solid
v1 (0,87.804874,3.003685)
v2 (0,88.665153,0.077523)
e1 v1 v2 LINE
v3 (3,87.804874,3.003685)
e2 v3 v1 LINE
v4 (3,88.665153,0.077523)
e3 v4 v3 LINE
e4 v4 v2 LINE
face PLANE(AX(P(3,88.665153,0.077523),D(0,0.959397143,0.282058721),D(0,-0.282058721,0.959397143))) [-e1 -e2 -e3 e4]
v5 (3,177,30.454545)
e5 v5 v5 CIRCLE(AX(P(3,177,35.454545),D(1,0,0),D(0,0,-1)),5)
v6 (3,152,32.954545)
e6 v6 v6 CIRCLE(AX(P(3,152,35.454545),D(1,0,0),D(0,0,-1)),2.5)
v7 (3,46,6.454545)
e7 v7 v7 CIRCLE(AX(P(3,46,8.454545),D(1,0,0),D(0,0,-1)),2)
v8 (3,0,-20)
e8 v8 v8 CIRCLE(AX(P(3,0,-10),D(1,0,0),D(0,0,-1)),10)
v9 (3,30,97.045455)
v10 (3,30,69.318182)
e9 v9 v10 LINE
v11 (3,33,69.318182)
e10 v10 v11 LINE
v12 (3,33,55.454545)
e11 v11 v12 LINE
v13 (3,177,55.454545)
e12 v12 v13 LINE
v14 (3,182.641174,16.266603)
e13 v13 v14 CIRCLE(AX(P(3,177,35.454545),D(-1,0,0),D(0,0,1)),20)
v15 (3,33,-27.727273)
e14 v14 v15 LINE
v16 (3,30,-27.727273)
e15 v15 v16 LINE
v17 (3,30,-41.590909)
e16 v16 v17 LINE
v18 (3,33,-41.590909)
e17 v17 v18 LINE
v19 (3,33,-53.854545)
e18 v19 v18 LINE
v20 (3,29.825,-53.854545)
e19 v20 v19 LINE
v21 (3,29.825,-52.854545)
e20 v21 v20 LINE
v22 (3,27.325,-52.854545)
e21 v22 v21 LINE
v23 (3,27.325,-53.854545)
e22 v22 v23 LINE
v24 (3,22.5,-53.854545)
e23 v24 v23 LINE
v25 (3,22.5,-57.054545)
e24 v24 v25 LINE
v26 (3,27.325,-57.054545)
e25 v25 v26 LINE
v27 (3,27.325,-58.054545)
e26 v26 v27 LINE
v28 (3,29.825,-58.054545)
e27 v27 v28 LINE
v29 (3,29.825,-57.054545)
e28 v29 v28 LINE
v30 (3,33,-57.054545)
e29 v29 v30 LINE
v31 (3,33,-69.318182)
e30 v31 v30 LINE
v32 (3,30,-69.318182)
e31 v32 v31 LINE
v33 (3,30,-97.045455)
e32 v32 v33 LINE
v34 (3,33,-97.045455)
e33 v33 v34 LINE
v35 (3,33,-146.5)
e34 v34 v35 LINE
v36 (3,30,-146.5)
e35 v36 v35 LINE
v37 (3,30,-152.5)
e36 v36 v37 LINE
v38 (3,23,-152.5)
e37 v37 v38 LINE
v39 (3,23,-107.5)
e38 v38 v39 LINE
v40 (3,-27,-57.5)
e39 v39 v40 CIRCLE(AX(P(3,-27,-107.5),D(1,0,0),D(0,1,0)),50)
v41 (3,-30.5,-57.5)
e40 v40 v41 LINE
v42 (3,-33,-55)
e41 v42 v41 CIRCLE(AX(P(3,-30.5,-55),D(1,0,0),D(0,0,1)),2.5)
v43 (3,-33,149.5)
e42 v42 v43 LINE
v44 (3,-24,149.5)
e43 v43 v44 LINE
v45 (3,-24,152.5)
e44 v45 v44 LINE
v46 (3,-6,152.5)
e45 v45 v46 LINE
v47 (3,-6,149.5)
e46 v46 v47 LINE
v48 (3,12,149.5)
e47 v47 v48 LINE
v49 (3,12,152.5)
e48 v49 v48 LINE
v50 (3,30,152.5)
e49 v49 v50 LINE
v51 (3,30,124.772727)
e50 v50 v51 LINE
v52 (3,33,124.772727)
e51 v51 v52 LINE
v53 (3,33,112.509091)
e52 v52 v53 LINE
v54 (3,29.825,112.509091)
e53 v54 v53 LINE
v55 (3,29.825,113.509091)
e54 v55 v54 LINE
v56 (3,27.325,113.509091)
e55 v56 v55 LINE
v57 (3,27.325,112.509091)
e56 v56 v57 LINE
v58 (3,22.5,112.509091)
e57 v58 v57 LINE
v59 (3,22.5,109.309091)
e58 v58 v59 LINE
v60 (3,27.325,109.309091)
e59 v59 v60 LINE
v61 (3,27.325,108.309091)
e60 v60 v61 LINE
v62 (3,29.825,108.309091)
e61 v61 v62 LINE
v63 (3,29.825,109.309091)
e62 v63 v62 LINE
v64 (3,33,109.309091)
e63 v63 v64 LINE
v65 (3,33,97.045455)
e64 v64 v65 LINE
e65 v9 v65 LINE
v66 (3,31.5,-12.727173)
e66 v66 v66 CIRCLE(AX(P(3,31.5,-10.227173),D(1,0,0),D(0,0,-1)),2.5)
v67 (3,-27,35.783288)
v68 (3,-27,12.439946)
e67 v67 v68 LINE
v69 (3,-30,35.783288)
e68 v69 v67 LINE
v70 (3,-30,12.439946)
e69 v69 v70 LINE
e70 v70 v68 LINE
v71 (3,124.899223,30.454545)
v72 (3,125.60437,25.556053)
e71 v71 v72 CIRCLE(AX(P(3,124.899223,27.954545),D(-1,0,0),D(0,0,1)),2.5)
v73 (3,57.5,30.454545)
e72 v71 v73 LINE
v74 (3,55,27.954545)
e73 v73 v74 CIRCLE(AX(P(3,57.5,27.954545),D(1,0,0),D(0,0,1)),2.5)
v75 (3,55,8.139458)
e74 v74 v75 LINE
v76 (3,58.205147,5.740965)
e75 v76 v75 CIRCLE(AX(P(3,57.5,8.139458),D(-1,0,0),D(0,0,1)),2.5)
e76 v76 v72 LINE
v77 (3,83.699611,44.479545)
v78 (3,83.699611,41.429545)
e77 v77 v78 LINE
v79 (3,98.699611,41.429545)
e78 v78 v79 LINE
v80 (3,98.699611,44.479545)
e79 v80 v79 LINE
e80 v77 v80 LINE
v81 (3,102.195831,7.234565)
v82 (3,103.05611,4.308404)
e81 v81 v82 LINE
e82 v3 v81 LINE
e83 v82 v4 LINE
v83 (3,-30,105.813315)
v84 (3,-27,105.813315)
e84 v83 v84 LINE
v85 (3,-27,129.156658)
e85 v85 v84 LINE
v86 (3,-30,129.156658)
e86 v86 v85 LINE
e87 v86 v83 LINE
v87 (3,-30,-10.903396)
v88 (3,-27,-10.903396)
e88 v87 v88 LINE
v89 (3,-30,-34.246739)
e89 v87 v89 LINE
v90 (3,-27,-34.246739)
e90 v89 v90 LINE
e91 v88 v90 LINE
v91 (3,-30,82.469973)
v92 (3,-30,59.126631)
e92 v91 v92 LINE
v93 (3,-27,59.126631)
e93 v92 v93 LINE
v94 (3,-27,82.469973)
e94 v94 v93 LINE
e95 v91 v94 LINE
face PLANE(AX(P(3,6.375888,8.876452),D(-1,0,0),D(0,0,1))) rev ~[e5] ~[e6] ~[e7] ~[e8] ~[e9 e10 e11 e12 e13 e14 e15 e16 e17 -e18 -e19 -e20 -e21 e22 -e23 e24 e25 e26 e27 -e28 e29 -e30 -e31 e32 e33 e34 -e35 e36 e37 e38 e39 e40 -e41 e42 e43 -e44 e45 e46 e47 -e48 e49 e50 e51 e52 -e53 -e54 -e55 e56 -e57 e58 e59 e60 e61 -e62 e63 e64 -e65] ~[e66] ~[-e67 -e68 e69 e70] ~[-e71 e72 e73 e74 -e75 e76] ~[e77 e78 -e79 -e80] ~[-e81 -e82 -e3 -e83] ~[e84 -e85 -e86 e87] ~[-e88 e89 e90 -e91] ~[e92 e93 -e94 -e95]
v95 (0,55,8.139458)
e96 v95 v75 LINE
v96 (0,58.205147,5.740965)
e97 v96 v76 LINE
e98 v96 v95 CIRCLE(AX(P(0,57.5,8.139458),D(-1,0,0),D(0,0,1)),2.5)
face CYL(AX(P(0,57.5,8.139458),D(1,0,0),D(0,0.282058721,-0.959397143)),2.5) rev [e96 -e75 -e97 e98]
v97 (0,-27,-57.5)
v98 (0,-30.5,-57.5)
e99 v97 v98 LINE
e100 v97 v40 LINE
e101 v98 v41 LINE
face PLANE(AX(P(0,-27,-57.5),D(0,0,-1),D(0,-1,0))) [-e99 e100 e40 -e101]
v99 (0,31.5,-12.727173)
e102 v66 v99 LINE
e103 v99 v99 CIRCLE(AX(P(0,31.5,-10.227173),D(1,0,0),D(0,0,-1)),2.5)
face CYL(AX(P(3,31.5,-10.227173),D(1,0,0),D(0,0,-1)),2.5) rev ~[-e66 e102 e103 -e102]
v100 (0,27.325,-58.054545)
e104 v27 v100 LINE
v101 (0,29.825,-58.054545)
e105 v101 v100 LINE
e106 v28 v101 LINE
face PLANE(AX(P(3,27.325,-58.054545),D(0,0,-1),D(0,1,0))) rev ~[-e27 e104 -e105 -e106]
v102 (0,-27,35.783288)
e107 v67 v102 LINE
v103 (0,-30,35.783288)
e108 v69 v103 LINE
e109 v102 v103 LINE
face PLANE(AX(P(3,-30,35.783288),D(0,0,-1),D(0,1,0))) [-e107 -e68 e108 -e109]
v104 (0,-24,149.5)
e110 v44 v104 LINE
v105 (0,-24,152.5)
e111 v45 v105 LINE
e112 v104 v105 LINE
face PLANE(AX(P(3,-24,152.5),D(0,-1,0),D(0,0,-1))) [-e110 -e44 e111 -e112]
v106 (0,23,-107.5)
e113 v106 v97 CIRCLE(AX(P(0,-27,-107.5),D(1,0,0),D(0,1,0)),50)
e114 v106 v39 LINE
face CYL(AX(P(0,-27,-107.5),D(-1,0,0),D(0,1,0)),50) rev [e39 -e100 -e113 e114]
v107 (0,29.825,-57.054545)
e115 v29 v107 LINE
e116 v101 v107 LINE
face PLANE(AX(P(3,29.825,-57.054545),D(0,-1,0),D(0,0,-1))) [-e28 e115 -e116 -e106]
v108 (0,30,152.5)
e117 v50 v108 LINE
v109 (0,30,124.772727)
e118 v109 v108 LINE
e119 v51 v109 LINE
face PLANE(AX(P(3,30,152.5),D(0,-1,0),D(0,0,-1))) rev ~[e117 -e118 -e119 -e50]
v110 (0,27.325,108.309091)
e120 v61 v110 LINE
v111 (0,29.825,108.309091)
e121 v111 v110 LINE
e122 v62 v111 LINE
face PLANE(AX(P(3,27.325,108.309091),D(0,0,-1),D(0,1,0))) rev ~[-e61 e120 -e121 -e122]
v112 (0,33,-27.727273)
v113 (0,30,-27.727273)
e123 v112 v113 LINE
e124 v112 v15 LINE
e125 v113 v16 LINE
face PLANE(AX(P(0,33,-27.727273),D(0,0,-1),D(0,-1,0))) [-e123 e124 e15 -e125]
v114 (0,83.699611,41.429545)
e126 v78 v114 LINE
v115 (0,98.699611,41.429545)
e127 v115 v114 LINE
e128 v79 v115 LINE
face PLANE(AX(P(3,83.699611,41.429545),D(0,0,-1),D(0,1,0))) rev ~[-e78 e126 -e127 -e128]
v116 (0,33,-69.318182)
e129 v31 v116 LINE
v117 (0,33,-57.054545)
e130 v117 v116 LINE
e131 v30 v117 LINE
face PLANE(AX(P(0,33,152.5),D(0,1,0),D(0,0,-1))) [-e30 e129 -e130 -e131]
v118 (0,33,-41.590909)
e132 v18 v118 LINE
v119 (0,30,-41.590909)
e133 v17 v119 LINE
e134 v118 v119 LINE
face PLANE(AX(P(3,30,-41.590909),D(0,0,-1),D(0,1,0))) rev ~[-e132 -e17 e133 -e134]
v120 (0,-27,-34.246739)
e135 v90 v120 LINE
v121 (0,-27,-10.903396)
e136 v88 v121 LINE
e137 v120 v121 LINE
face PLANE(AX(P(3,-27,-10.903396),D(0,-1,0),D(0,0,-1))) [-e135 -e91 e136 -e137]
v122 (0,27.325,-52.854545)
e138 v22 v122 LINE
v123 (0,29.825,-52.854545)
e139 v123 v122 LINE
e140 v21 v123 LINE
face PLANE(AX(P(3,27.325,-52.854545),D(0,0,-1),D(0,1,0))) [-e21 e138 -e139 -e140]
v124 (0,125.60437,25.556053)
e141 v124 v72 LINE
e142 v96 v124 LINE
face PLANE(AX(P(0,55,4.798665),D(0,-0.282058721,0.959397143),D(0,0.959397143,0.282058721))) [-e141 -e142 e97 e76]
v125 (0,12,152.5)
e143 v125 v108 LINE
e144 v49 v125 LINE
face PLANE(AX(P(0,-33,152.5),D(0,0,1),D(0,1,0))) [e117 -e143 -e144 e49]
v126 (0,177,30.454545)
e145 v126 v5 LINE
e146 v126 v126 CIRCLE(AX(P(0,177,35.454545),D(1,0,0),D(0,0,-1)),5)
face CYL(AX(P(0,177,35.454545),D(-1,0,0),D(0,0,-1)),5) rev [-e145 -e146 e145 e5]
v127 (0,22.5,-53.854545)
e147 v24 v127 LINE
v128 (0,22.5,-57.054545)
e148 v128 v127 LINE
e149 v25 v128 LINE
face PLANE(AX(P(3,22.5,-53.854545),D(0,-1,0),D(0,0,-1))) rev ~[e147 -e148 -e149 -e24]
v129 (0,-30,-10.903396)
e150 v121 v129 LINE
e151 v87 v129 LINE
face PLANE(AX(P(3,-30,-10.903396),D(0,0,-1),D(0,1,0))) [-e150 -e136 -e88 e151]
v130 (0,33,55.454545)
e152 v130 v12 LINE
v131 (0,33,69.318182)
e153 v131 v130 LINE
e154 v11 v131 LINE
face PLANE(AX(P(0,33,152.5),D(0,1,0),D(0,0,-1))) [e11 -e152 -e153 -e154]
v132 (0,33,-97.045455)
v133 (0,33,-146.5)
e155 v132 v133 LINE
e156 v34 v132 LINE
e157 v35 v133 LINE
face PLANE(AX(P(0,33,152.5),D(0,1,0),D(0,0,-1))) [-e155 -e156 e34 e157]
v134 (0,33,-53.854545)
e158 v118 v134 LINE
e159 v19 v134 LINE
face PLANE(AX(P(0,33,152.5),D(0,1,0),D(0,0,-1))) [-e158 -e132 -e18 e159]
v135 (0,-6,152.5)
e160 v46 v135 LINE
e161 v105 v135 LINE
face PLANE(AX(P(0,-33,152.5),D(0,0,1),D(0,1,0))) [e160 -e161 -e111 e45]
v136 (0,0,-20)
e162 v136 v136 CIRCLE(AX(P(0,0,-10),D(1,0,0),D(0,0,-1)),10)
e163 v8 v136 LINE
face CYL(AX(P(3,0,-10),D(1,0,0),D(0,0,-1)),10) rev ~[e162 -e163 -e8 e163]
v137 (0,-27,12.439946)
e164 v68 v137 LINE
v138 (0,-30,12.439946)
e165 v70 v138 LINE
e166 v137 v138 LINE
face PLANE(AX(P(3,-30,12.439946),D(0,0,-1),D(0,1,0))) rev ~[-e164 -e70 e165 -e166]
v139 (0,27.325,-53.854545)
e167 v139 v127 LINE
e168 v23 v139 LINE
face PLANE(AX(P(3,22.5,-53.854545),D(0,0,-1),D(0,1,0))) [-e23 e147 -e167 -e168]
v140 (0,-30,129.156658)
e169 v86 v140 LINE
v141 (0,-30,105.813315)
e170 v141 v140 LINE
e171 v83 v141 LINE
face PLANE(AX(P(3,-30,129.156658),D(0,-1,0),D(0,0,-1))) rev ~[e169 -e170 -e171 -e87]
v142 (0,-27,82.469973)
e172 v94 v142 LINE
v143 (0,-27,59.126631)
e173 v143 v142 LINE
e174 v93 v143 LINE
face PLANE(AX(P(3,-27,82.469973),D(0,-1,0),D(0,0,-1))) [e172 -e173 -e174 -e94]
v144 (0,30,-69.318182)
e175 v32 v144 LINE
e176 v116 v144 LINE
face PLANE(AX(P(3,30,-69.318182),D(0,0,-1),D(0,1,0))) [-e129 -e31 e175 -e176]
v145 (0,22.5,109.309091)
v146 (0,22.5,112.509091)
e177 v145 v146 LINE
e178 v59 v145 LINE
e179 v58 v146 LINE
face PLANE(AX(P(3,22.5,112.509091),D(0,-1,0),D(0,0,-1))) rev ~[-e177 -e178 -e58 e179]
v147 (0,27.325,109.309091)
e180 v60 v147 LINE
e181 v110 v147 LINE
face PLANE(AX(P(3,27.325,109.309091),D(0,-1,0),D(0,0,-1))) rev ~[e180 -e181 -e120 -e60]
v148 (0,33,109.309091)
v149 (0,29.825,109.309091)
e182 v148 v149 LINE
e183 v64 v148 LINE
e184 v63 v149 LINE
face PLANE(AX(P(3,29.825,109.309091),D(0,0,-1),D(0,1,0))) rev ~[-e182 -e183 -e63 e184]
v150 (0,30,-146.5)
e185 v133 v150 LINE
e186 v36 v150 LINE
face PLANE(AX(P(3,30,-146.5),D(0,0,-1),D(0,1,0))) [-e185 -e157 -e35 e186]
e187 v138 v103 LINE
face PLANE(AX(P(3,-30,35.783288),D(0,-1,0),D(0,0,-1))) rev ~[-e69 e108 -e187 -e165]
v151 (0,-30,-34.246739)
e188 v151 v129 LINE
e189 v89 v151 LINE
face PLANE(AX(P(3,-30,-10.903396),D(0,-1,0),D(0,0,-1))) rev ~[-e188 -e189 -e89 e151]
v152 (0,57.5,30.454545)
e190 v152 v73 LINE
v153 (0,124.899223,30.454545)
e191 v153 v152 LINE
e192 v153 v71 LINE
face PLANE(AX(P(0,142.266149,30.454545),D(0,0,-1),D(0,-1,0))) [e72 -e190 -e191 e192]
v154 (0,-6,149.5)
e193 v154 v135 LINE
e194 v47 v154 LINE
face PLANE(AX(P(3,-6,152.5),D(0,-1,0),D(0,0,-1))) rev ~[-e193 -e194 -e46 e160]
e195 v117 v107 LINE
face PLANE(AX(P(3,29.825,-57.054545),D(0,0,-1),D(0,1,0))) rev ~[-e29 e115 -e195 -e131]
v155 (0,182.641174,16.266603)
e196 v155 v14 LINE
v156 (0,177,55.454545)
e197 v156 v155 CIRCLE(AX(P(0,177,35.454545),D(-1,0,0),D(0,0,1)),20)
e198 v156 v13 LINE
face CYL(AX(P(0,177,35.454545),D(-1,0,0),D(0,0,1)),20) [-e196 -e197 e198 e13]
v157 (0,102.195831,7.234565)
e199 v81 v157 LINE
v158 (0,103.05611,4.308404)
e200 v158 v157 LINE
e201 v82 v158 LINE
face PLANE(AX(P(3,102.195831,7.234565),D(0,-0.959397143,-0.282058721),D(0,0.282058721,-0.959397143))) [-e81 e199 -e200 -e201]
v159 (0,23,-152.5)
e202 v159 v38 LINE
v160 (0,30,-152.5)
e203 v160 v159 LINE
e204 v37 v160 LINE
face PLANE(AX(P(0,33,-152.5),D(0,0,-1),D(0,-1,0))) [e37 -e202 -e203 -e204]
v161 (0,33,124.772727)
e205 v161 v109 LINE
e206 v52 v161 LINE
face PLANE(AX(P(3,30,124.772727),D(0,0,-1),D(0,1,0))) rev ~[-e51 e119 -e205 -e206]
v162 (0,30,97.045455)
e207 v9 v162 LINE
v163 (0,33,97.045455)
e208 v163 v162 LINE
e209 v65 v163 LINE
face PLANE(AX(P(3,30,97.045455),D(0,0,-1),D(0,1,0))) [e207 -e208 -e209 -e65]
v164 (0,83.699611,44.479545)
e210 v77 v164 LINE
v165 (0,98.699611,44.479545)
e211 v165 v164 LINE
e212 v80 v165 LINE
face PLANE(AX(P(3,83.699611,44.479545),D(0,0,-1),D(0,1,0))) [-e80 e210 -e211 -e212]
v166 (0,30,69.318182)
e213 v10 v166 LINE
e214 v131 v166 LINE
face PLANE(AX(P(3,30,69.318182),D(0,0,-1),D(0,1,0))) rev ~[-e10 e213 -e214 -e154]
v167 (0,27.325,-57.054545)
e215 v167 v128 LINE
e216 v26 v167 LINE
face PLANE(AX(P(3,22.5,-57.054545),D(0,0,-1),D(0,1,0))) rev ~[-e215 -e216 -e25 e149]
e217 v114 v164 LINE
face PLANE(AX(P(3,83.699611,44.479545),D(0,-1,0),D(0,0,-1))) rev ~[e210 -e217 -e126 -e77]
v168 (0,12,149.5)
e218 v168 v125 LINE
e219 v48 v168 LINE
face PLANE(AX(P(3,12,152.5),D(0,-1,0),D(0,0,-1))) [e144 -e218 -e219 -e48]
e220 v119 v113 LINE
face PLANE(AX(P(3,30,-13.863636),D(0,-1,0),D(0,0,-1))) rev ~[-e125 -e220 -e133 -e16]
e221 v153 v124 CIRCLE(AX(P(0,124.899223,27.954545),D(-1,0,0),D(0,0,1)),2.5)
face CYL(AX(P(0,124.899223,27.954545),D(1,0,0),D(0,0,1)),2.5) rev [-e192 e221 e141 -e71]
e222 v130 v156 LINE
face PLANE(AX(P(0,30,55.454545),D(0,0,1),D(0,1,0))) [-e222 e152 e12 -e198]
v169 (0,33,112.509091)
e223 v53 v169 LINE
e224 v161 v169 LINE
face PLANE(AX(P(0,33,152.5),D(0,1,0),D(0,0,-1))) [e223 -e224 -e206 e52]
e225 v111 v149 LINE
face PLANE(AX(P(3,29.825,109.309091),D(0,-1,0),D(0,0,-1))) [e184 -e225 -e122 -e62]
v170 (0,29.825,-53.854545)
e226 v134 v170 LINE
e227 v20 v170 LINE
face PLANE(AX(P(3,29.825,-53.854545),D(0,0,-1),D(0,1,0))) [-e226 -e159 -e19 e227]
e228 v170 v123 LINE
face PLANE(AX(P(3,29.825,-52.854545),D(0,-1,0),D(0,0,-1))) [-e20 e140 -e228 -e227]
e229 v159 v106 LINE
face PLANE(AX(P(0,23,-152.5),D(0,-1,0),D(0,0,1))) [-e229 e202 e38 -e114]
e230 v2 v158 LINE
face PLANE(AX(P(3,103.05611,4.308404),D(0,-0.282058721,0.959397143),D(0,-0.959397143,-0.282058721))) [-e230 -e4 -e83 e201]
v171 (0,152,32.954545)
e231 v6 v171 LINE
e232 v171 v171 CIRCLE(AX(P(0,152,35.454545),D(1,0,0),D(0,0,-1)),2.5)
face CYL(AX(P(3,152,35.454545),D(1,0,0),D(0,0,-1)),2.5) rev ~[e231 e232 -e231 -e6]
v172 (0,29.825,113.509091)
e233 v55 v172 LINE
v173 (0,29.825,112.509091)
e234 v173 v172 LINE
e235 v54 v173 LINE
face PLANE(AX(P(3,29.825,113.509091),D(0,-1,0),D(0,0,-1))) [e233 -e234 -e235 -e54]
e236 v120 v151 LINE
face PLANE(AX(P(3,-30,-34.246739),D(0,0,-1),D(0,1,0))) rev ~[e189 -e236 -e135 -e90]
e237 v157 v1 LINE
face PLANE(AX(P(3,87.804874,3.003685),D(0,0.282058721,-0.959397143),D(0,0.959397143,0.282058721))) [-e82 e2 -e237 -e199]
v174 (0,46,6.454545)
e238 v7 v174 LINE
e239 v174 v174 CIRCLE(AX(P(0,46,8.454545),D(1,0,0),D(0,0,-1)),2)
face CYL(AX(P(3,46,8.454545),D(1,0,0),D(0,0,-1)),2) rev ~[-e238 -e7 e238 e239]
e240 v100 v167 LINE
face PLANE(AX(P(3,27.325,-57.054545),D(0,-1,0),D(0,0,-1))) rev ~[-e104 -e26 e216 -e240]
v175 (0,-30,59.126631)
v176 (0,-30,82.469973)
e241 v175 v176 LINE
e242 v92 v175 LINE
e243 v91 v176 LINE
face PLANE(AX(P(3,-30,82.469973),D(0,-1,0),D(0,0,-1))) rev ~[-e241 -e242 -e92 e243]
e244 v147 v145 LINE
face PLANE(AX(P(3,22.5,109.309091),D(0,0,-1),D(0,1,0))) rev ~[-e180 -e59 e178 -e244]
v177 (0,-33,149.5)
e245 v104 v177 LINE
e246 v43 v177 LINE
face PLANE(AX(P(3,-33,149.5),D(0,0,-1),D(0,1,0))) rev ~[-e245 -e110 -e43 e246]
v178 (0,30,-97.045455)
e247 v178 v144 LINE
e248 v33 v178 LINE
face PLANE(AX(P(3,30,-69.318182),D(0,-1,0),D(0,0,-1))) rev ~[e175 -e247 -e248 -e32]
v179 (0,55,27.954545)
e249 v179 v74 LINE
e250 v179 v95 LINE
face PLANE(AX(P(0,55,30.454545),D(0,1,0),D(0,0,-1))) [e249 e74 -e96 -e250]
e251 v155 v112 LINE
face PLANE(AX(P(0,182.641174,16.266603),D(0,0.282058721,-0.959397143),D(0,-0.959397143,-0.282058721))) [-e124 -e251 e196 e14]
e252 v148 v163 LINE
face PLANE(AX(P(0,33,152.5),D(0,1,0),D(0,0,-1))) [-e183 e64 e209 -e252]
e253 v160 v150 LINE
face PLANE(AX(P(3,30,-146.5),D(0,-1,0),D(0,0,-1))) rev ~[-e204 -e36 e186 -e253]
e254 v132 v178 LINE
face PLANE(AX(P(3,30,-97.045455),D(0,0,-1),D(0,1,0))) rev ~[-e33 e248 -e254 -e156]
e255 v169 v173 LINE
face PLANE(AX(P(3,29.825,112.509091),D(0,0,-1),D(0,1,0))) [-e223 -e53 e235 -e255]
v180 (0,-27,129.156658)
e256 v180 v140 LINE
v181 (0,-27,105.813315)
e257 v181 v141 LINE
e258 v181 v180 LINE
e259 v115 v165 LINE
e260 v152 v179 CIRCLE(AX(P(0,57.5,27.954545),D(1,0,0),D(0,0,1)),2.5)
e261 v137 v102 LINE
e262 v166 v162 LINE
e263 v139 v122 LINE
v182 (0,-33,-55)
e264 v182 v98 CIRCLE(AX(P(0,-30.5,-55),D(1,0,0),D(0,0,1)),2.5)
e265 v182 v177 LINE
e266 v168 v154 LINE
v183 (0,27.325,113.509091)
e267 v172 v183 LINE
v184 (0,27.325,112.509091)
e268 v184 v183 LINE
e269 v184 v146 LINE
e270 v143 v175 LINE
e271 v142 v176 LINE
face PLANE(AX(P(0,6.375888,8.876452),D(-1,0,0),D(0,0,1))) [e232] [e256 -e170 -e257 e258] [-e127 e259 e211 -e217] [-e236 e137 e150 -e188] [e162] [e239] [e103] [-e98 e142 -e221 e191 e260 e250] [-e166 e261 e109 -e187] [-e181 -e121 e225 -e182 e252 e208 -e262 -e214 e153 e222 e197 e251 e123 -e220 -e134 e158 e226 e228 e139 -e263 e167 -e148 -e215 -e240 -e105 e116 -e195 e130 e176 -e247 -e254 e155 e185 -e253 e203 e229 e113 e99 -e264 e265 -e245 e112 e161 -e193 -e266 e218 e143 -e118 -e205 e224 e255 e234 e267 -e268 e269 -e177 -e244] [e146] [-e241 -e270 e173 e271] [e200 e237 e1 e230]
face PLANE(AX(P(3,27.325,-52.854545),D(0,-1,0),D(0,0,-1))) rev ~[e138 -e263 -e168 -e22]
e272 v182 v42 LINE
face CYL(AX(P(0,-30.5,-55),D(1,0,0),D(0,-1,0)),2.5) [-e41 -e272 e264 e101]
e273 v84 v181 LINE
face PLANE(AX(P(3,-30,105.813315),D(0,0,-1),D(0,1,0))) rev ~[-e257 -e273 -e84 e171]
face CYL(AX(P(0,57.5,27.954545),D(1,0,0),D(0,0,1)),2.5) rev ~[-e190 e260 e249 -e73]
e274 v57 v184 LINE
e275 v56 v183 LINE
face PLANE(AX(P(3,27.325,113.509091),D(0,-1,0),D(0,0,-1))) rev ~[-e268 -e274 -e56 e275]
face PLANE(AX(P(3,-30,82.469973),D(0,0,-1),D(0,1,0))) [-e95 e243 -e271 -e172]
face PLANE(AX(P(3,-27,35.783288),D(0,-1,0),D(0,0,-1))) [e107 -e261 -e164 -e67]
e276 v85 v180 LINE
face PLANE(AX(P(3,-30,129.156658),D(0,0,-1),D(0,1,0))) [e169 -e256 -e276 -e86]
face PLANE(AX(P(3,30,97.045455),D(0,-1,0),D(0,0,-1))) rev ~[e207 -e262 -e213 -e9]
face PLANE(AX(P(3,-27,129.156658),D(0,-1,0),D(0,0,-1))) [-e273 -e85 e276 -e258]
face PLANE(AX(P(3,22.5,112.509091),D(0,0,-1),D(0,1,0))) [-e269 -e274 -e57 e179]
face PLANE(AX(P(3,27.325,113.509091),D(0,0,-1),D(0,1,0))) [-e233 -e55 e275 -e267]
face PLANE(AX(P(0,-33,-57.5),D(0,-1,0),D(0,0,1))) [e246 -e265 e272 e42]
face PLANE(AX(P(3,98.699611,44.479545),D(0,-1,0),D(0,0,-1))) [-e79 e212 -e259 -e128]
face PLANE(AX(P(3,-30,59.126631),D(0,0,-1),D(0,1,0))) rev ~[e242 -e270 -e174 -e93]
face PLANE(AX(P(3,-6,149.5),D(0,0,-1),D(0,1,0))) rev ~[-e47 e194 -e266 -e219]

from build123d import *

# Parameters (mm, degrees)
BOSS_EXTRUDE1_DEPTH     = 3
SKETCH2_W               = 27.727272727
SKETCH2_H               = 3
SKETCH2_W_2             = 3
SKETCH2_H_2             = 18
SKETCH2_H_3             = 9
SKETCH2_W_3             = 23.343342349
SKETCH2_W_4             = 23.34334235
SKETCH2_W_5             = 6
CUT_EXTRUDE1_DEPTH      = 1
CUT_EXTRUDE1_DEPTH_BACK = 4
SKETCH3_W               = 3.2
SKETCH3_H               = 10.5
SKETCH3_W_2             = 5.2
SKETCH3_H_2             = 2.5
CUT_EXTRUDE2_DEPTH      = 1
CUT_EXTRUDE2_DEPTH_BACK = 4
FILLET1_R               = 2.5
SKETCH4_R               = 5
BOSS_EXTRUDE2_DEPTH     = 3
FILLET2_R               = 2.5
SKETCH5_R               = 2.5
SKETCH5_R_2             = 2
SKETCH5_R_3             = 10
SKETCH5_W               = 3.05
SKETCH5_H               = 15
CUT_EXTRUDE3_DEPTH      = 1
CUT_EXTRUDE3_DEPTH_BACK = 4


with BuildPart() as part:
    # Sketch1 → Boss-Extrude1 (new body)
    with BuildSketch(Plane(origin=(0, 0, 0), x_dir=(0, 0, -1), z_dir=(1, 0, 0))):
        with BuildLine():
            Line((-152.5, 33), (152.5, 33))
            Line((152.5, 33), (152.5, 23))
            Line((152.5, 23), (107.5, 23))
            ThreePointArc((107.5, 23), (72.144660941, 8.355339059), (57.5, -27))
            Line((57.5, -27), (57.5, -33))
            Line((57.5, -33), (-152.5, -33))
            Line((-152.5, -33), (-152.5, 33))
        make_face()
    extrude(amount=BOSS_EXTRUDE1_DEPTH)

    # Sketch2 → Cut-Extrude1 (cut, two sides)
    with BuildSketch(Plane(origin=(3, 0, 0), x_dir=(0, 0, -1), z_dir=(1, 0, 0))) as cut_extrude1_sk:
        with Locations((27.727272728, 31.5)):
            Rectangle(SKETCH2_W, SKETCH2_H)
        with Locations((83.181818182, 31.5)):
            Rectangle(SKETCH2_W, SKETCH2_H)
        with Locations((-138.636363636, 31.5)):
            Rectangle(SKETCH2_W, SKETCH2_H)
        with Locations((-83.181818182, 31.5)):
            Rectangle(SKETCH2_W, SKETCH2_H)
        with Locations((-27.727272728, 31.5)):
            Rectangle(SKETCH2_W, SKETCH2_H)
        with Locations((-151, 3)):
            Rectangle(SKETCH2_W_2, SKETCH2_H_2)
        with Locations((-151, -28.5)):
            Rectangle(SKETCH2_W_2, SKETCH2_H_3)
        with Locations((-117.484986475, -28.5)):
            Rectangle(SKETCH2_W_3, SKETCH2_H)
        with Locations((-70.798301777, -28.5)):
            Rectangle(SKETCH2_W_3, SKETCH2_H)
        with Locations((22.575067622, -28.5)):
            Rectangle(SKETCH2_W_4, SKETCH2_H)
        with Locations((149.5, 31.5)):
            Rectangle(SKETCH2_W_5, SKETCH2_H)
        with Locations((-24.111617078, -28.5)):
            Rectangle(SKETCH2_W_3, SKETCH2_H)
    extrude(amount=CUT_EXTRUDE1_DEPTH, mode=Mode.SUBTRACT)
    extrude(cut_extrude1_sk.sketch, amount=-CUT_EXTRUDE1_DEPTH_BACK, mode=Mode.SUBTRACT)

    # Sketch3 → Cut-Extrude2 (cut, two sides)
    with BuildSketch(Plane(origin=(3, 0, 0), x_dir=(0, 0, -1), z_dir=(1, 0, 0))) as cut_extrude2_sk:
        with Locations((-110.909090909, 27.75)):
            Rectangle(SKETCH3_W, SKETCH3_H)
        with Locations((55.454545455, 27.75)):
            Rectangle(SKETCH3_W, SKETCH3_H)
        with Locations((55.454545455, 28.575)):
            Rectangle(SKETCH3_W_2, SKETCH3_H_2)
        with Locations((-110.909090909, 28.575)):
            Rectangle(SKETCH3_W_2, SKETCH3_H_2)
    extrude(amount=CUT_EXTRUDE2_DEPTH, mode=Mode.SUBTRACT)
    extrude(cut_extrude2_sk.sketch, amount=-CUT_EXTRUDE2_DEPTH_BACK, mode=Mode.SUBTRACT)

    # Fillet1
    fillet1_edges = [part.edges().sort_by_distance(p)[0] for p in [
        (1.5, -33, -57.5),
    ]]
    fillet(fillet1_edges, radius=FILLET1_R)

    # Sketch4 → Boss-Extrude2 (add)
    with BuildSketch(Plane(origin=(0, 0, 0), x_dir=(0, 0, -1), z_dir=(1, 0, 0))):
        with BuildLine():
            Line((-55.454545455, 30), (-55.454545455, 177))
            ThreePointArc((-55.454545455, 177), (-38.304207087, 196.795944751), (-16.266602596, 182.641174423))
            Line((-16.266602596, 182.641174423), (27.727272727, 33))
            Line((27.727272727, 33), (27.727272727, 30))
            Line((27.727272727, 30), (-55.454545455, 30))
        make_face()
        with Locations((-35.454545455, 177)):
            Circle(SKETCH4_R, mode=Mode.SUBTRACT)
        Polygon((-30.454545455, 55), (-4.798665146, 55), (-30.454545455, 142.266148573), align=None, mode=Mode.SUBTRACT)
    extrude(amount=BOSS_EXTRUDE2_DEPTH)

    # Fillet2
    fillet2_edges = [part.edges().sort_by_distance(p)[0] for p in [
        (1.5, 55, 30.454545455),
        (1.5, 55, 4.798665146),
        (1.5, 142.266148573, 30.454545455),
    ]]
    fillet(fillet2_edges, radius=FILLET2_R)

    # Sketch5 → Cut-Extrude3 (cut, two sides)
    with BuildSketch(Plane(origin=(3, 0, 0), x_dir=(0, 0, -1), z_dir=(1, 0, 0))) as cut_extrude3_sk:
        with Locations((10.227172727, 31.5)):
            Circle(SKETCH5_R)
        with Locations((-35.454545455, 152)):
            Circle(SKETCH5_R)
        with Locations((-8.454545455, 46)):
            Circle(SKETCH5_R_2)
        with Locations((10, 0)):
            Circle(SKETCH5_R_3)
        Polygon((-3.003684653, 87.804874126), (-7.23456547, 102.195831269), (-4.308404184, 103.056110369), (-0.077523367, 88.665153225), align=None)
        with Locations((-42.954545455, 91.19961143)):
            Rectangle(SKETCH5_W, SKETCH5_H)
    extrude(amount=CUT_EXTRUDE3_DEPTH, mode=Mode.SUBTRACT)
    extrude(cut_extrude3_sk.sketch, amount=-CUT_EXTRUDE3_DEPTH_BACK, mode=Mode.SUBTRACT)


solid = part.part
